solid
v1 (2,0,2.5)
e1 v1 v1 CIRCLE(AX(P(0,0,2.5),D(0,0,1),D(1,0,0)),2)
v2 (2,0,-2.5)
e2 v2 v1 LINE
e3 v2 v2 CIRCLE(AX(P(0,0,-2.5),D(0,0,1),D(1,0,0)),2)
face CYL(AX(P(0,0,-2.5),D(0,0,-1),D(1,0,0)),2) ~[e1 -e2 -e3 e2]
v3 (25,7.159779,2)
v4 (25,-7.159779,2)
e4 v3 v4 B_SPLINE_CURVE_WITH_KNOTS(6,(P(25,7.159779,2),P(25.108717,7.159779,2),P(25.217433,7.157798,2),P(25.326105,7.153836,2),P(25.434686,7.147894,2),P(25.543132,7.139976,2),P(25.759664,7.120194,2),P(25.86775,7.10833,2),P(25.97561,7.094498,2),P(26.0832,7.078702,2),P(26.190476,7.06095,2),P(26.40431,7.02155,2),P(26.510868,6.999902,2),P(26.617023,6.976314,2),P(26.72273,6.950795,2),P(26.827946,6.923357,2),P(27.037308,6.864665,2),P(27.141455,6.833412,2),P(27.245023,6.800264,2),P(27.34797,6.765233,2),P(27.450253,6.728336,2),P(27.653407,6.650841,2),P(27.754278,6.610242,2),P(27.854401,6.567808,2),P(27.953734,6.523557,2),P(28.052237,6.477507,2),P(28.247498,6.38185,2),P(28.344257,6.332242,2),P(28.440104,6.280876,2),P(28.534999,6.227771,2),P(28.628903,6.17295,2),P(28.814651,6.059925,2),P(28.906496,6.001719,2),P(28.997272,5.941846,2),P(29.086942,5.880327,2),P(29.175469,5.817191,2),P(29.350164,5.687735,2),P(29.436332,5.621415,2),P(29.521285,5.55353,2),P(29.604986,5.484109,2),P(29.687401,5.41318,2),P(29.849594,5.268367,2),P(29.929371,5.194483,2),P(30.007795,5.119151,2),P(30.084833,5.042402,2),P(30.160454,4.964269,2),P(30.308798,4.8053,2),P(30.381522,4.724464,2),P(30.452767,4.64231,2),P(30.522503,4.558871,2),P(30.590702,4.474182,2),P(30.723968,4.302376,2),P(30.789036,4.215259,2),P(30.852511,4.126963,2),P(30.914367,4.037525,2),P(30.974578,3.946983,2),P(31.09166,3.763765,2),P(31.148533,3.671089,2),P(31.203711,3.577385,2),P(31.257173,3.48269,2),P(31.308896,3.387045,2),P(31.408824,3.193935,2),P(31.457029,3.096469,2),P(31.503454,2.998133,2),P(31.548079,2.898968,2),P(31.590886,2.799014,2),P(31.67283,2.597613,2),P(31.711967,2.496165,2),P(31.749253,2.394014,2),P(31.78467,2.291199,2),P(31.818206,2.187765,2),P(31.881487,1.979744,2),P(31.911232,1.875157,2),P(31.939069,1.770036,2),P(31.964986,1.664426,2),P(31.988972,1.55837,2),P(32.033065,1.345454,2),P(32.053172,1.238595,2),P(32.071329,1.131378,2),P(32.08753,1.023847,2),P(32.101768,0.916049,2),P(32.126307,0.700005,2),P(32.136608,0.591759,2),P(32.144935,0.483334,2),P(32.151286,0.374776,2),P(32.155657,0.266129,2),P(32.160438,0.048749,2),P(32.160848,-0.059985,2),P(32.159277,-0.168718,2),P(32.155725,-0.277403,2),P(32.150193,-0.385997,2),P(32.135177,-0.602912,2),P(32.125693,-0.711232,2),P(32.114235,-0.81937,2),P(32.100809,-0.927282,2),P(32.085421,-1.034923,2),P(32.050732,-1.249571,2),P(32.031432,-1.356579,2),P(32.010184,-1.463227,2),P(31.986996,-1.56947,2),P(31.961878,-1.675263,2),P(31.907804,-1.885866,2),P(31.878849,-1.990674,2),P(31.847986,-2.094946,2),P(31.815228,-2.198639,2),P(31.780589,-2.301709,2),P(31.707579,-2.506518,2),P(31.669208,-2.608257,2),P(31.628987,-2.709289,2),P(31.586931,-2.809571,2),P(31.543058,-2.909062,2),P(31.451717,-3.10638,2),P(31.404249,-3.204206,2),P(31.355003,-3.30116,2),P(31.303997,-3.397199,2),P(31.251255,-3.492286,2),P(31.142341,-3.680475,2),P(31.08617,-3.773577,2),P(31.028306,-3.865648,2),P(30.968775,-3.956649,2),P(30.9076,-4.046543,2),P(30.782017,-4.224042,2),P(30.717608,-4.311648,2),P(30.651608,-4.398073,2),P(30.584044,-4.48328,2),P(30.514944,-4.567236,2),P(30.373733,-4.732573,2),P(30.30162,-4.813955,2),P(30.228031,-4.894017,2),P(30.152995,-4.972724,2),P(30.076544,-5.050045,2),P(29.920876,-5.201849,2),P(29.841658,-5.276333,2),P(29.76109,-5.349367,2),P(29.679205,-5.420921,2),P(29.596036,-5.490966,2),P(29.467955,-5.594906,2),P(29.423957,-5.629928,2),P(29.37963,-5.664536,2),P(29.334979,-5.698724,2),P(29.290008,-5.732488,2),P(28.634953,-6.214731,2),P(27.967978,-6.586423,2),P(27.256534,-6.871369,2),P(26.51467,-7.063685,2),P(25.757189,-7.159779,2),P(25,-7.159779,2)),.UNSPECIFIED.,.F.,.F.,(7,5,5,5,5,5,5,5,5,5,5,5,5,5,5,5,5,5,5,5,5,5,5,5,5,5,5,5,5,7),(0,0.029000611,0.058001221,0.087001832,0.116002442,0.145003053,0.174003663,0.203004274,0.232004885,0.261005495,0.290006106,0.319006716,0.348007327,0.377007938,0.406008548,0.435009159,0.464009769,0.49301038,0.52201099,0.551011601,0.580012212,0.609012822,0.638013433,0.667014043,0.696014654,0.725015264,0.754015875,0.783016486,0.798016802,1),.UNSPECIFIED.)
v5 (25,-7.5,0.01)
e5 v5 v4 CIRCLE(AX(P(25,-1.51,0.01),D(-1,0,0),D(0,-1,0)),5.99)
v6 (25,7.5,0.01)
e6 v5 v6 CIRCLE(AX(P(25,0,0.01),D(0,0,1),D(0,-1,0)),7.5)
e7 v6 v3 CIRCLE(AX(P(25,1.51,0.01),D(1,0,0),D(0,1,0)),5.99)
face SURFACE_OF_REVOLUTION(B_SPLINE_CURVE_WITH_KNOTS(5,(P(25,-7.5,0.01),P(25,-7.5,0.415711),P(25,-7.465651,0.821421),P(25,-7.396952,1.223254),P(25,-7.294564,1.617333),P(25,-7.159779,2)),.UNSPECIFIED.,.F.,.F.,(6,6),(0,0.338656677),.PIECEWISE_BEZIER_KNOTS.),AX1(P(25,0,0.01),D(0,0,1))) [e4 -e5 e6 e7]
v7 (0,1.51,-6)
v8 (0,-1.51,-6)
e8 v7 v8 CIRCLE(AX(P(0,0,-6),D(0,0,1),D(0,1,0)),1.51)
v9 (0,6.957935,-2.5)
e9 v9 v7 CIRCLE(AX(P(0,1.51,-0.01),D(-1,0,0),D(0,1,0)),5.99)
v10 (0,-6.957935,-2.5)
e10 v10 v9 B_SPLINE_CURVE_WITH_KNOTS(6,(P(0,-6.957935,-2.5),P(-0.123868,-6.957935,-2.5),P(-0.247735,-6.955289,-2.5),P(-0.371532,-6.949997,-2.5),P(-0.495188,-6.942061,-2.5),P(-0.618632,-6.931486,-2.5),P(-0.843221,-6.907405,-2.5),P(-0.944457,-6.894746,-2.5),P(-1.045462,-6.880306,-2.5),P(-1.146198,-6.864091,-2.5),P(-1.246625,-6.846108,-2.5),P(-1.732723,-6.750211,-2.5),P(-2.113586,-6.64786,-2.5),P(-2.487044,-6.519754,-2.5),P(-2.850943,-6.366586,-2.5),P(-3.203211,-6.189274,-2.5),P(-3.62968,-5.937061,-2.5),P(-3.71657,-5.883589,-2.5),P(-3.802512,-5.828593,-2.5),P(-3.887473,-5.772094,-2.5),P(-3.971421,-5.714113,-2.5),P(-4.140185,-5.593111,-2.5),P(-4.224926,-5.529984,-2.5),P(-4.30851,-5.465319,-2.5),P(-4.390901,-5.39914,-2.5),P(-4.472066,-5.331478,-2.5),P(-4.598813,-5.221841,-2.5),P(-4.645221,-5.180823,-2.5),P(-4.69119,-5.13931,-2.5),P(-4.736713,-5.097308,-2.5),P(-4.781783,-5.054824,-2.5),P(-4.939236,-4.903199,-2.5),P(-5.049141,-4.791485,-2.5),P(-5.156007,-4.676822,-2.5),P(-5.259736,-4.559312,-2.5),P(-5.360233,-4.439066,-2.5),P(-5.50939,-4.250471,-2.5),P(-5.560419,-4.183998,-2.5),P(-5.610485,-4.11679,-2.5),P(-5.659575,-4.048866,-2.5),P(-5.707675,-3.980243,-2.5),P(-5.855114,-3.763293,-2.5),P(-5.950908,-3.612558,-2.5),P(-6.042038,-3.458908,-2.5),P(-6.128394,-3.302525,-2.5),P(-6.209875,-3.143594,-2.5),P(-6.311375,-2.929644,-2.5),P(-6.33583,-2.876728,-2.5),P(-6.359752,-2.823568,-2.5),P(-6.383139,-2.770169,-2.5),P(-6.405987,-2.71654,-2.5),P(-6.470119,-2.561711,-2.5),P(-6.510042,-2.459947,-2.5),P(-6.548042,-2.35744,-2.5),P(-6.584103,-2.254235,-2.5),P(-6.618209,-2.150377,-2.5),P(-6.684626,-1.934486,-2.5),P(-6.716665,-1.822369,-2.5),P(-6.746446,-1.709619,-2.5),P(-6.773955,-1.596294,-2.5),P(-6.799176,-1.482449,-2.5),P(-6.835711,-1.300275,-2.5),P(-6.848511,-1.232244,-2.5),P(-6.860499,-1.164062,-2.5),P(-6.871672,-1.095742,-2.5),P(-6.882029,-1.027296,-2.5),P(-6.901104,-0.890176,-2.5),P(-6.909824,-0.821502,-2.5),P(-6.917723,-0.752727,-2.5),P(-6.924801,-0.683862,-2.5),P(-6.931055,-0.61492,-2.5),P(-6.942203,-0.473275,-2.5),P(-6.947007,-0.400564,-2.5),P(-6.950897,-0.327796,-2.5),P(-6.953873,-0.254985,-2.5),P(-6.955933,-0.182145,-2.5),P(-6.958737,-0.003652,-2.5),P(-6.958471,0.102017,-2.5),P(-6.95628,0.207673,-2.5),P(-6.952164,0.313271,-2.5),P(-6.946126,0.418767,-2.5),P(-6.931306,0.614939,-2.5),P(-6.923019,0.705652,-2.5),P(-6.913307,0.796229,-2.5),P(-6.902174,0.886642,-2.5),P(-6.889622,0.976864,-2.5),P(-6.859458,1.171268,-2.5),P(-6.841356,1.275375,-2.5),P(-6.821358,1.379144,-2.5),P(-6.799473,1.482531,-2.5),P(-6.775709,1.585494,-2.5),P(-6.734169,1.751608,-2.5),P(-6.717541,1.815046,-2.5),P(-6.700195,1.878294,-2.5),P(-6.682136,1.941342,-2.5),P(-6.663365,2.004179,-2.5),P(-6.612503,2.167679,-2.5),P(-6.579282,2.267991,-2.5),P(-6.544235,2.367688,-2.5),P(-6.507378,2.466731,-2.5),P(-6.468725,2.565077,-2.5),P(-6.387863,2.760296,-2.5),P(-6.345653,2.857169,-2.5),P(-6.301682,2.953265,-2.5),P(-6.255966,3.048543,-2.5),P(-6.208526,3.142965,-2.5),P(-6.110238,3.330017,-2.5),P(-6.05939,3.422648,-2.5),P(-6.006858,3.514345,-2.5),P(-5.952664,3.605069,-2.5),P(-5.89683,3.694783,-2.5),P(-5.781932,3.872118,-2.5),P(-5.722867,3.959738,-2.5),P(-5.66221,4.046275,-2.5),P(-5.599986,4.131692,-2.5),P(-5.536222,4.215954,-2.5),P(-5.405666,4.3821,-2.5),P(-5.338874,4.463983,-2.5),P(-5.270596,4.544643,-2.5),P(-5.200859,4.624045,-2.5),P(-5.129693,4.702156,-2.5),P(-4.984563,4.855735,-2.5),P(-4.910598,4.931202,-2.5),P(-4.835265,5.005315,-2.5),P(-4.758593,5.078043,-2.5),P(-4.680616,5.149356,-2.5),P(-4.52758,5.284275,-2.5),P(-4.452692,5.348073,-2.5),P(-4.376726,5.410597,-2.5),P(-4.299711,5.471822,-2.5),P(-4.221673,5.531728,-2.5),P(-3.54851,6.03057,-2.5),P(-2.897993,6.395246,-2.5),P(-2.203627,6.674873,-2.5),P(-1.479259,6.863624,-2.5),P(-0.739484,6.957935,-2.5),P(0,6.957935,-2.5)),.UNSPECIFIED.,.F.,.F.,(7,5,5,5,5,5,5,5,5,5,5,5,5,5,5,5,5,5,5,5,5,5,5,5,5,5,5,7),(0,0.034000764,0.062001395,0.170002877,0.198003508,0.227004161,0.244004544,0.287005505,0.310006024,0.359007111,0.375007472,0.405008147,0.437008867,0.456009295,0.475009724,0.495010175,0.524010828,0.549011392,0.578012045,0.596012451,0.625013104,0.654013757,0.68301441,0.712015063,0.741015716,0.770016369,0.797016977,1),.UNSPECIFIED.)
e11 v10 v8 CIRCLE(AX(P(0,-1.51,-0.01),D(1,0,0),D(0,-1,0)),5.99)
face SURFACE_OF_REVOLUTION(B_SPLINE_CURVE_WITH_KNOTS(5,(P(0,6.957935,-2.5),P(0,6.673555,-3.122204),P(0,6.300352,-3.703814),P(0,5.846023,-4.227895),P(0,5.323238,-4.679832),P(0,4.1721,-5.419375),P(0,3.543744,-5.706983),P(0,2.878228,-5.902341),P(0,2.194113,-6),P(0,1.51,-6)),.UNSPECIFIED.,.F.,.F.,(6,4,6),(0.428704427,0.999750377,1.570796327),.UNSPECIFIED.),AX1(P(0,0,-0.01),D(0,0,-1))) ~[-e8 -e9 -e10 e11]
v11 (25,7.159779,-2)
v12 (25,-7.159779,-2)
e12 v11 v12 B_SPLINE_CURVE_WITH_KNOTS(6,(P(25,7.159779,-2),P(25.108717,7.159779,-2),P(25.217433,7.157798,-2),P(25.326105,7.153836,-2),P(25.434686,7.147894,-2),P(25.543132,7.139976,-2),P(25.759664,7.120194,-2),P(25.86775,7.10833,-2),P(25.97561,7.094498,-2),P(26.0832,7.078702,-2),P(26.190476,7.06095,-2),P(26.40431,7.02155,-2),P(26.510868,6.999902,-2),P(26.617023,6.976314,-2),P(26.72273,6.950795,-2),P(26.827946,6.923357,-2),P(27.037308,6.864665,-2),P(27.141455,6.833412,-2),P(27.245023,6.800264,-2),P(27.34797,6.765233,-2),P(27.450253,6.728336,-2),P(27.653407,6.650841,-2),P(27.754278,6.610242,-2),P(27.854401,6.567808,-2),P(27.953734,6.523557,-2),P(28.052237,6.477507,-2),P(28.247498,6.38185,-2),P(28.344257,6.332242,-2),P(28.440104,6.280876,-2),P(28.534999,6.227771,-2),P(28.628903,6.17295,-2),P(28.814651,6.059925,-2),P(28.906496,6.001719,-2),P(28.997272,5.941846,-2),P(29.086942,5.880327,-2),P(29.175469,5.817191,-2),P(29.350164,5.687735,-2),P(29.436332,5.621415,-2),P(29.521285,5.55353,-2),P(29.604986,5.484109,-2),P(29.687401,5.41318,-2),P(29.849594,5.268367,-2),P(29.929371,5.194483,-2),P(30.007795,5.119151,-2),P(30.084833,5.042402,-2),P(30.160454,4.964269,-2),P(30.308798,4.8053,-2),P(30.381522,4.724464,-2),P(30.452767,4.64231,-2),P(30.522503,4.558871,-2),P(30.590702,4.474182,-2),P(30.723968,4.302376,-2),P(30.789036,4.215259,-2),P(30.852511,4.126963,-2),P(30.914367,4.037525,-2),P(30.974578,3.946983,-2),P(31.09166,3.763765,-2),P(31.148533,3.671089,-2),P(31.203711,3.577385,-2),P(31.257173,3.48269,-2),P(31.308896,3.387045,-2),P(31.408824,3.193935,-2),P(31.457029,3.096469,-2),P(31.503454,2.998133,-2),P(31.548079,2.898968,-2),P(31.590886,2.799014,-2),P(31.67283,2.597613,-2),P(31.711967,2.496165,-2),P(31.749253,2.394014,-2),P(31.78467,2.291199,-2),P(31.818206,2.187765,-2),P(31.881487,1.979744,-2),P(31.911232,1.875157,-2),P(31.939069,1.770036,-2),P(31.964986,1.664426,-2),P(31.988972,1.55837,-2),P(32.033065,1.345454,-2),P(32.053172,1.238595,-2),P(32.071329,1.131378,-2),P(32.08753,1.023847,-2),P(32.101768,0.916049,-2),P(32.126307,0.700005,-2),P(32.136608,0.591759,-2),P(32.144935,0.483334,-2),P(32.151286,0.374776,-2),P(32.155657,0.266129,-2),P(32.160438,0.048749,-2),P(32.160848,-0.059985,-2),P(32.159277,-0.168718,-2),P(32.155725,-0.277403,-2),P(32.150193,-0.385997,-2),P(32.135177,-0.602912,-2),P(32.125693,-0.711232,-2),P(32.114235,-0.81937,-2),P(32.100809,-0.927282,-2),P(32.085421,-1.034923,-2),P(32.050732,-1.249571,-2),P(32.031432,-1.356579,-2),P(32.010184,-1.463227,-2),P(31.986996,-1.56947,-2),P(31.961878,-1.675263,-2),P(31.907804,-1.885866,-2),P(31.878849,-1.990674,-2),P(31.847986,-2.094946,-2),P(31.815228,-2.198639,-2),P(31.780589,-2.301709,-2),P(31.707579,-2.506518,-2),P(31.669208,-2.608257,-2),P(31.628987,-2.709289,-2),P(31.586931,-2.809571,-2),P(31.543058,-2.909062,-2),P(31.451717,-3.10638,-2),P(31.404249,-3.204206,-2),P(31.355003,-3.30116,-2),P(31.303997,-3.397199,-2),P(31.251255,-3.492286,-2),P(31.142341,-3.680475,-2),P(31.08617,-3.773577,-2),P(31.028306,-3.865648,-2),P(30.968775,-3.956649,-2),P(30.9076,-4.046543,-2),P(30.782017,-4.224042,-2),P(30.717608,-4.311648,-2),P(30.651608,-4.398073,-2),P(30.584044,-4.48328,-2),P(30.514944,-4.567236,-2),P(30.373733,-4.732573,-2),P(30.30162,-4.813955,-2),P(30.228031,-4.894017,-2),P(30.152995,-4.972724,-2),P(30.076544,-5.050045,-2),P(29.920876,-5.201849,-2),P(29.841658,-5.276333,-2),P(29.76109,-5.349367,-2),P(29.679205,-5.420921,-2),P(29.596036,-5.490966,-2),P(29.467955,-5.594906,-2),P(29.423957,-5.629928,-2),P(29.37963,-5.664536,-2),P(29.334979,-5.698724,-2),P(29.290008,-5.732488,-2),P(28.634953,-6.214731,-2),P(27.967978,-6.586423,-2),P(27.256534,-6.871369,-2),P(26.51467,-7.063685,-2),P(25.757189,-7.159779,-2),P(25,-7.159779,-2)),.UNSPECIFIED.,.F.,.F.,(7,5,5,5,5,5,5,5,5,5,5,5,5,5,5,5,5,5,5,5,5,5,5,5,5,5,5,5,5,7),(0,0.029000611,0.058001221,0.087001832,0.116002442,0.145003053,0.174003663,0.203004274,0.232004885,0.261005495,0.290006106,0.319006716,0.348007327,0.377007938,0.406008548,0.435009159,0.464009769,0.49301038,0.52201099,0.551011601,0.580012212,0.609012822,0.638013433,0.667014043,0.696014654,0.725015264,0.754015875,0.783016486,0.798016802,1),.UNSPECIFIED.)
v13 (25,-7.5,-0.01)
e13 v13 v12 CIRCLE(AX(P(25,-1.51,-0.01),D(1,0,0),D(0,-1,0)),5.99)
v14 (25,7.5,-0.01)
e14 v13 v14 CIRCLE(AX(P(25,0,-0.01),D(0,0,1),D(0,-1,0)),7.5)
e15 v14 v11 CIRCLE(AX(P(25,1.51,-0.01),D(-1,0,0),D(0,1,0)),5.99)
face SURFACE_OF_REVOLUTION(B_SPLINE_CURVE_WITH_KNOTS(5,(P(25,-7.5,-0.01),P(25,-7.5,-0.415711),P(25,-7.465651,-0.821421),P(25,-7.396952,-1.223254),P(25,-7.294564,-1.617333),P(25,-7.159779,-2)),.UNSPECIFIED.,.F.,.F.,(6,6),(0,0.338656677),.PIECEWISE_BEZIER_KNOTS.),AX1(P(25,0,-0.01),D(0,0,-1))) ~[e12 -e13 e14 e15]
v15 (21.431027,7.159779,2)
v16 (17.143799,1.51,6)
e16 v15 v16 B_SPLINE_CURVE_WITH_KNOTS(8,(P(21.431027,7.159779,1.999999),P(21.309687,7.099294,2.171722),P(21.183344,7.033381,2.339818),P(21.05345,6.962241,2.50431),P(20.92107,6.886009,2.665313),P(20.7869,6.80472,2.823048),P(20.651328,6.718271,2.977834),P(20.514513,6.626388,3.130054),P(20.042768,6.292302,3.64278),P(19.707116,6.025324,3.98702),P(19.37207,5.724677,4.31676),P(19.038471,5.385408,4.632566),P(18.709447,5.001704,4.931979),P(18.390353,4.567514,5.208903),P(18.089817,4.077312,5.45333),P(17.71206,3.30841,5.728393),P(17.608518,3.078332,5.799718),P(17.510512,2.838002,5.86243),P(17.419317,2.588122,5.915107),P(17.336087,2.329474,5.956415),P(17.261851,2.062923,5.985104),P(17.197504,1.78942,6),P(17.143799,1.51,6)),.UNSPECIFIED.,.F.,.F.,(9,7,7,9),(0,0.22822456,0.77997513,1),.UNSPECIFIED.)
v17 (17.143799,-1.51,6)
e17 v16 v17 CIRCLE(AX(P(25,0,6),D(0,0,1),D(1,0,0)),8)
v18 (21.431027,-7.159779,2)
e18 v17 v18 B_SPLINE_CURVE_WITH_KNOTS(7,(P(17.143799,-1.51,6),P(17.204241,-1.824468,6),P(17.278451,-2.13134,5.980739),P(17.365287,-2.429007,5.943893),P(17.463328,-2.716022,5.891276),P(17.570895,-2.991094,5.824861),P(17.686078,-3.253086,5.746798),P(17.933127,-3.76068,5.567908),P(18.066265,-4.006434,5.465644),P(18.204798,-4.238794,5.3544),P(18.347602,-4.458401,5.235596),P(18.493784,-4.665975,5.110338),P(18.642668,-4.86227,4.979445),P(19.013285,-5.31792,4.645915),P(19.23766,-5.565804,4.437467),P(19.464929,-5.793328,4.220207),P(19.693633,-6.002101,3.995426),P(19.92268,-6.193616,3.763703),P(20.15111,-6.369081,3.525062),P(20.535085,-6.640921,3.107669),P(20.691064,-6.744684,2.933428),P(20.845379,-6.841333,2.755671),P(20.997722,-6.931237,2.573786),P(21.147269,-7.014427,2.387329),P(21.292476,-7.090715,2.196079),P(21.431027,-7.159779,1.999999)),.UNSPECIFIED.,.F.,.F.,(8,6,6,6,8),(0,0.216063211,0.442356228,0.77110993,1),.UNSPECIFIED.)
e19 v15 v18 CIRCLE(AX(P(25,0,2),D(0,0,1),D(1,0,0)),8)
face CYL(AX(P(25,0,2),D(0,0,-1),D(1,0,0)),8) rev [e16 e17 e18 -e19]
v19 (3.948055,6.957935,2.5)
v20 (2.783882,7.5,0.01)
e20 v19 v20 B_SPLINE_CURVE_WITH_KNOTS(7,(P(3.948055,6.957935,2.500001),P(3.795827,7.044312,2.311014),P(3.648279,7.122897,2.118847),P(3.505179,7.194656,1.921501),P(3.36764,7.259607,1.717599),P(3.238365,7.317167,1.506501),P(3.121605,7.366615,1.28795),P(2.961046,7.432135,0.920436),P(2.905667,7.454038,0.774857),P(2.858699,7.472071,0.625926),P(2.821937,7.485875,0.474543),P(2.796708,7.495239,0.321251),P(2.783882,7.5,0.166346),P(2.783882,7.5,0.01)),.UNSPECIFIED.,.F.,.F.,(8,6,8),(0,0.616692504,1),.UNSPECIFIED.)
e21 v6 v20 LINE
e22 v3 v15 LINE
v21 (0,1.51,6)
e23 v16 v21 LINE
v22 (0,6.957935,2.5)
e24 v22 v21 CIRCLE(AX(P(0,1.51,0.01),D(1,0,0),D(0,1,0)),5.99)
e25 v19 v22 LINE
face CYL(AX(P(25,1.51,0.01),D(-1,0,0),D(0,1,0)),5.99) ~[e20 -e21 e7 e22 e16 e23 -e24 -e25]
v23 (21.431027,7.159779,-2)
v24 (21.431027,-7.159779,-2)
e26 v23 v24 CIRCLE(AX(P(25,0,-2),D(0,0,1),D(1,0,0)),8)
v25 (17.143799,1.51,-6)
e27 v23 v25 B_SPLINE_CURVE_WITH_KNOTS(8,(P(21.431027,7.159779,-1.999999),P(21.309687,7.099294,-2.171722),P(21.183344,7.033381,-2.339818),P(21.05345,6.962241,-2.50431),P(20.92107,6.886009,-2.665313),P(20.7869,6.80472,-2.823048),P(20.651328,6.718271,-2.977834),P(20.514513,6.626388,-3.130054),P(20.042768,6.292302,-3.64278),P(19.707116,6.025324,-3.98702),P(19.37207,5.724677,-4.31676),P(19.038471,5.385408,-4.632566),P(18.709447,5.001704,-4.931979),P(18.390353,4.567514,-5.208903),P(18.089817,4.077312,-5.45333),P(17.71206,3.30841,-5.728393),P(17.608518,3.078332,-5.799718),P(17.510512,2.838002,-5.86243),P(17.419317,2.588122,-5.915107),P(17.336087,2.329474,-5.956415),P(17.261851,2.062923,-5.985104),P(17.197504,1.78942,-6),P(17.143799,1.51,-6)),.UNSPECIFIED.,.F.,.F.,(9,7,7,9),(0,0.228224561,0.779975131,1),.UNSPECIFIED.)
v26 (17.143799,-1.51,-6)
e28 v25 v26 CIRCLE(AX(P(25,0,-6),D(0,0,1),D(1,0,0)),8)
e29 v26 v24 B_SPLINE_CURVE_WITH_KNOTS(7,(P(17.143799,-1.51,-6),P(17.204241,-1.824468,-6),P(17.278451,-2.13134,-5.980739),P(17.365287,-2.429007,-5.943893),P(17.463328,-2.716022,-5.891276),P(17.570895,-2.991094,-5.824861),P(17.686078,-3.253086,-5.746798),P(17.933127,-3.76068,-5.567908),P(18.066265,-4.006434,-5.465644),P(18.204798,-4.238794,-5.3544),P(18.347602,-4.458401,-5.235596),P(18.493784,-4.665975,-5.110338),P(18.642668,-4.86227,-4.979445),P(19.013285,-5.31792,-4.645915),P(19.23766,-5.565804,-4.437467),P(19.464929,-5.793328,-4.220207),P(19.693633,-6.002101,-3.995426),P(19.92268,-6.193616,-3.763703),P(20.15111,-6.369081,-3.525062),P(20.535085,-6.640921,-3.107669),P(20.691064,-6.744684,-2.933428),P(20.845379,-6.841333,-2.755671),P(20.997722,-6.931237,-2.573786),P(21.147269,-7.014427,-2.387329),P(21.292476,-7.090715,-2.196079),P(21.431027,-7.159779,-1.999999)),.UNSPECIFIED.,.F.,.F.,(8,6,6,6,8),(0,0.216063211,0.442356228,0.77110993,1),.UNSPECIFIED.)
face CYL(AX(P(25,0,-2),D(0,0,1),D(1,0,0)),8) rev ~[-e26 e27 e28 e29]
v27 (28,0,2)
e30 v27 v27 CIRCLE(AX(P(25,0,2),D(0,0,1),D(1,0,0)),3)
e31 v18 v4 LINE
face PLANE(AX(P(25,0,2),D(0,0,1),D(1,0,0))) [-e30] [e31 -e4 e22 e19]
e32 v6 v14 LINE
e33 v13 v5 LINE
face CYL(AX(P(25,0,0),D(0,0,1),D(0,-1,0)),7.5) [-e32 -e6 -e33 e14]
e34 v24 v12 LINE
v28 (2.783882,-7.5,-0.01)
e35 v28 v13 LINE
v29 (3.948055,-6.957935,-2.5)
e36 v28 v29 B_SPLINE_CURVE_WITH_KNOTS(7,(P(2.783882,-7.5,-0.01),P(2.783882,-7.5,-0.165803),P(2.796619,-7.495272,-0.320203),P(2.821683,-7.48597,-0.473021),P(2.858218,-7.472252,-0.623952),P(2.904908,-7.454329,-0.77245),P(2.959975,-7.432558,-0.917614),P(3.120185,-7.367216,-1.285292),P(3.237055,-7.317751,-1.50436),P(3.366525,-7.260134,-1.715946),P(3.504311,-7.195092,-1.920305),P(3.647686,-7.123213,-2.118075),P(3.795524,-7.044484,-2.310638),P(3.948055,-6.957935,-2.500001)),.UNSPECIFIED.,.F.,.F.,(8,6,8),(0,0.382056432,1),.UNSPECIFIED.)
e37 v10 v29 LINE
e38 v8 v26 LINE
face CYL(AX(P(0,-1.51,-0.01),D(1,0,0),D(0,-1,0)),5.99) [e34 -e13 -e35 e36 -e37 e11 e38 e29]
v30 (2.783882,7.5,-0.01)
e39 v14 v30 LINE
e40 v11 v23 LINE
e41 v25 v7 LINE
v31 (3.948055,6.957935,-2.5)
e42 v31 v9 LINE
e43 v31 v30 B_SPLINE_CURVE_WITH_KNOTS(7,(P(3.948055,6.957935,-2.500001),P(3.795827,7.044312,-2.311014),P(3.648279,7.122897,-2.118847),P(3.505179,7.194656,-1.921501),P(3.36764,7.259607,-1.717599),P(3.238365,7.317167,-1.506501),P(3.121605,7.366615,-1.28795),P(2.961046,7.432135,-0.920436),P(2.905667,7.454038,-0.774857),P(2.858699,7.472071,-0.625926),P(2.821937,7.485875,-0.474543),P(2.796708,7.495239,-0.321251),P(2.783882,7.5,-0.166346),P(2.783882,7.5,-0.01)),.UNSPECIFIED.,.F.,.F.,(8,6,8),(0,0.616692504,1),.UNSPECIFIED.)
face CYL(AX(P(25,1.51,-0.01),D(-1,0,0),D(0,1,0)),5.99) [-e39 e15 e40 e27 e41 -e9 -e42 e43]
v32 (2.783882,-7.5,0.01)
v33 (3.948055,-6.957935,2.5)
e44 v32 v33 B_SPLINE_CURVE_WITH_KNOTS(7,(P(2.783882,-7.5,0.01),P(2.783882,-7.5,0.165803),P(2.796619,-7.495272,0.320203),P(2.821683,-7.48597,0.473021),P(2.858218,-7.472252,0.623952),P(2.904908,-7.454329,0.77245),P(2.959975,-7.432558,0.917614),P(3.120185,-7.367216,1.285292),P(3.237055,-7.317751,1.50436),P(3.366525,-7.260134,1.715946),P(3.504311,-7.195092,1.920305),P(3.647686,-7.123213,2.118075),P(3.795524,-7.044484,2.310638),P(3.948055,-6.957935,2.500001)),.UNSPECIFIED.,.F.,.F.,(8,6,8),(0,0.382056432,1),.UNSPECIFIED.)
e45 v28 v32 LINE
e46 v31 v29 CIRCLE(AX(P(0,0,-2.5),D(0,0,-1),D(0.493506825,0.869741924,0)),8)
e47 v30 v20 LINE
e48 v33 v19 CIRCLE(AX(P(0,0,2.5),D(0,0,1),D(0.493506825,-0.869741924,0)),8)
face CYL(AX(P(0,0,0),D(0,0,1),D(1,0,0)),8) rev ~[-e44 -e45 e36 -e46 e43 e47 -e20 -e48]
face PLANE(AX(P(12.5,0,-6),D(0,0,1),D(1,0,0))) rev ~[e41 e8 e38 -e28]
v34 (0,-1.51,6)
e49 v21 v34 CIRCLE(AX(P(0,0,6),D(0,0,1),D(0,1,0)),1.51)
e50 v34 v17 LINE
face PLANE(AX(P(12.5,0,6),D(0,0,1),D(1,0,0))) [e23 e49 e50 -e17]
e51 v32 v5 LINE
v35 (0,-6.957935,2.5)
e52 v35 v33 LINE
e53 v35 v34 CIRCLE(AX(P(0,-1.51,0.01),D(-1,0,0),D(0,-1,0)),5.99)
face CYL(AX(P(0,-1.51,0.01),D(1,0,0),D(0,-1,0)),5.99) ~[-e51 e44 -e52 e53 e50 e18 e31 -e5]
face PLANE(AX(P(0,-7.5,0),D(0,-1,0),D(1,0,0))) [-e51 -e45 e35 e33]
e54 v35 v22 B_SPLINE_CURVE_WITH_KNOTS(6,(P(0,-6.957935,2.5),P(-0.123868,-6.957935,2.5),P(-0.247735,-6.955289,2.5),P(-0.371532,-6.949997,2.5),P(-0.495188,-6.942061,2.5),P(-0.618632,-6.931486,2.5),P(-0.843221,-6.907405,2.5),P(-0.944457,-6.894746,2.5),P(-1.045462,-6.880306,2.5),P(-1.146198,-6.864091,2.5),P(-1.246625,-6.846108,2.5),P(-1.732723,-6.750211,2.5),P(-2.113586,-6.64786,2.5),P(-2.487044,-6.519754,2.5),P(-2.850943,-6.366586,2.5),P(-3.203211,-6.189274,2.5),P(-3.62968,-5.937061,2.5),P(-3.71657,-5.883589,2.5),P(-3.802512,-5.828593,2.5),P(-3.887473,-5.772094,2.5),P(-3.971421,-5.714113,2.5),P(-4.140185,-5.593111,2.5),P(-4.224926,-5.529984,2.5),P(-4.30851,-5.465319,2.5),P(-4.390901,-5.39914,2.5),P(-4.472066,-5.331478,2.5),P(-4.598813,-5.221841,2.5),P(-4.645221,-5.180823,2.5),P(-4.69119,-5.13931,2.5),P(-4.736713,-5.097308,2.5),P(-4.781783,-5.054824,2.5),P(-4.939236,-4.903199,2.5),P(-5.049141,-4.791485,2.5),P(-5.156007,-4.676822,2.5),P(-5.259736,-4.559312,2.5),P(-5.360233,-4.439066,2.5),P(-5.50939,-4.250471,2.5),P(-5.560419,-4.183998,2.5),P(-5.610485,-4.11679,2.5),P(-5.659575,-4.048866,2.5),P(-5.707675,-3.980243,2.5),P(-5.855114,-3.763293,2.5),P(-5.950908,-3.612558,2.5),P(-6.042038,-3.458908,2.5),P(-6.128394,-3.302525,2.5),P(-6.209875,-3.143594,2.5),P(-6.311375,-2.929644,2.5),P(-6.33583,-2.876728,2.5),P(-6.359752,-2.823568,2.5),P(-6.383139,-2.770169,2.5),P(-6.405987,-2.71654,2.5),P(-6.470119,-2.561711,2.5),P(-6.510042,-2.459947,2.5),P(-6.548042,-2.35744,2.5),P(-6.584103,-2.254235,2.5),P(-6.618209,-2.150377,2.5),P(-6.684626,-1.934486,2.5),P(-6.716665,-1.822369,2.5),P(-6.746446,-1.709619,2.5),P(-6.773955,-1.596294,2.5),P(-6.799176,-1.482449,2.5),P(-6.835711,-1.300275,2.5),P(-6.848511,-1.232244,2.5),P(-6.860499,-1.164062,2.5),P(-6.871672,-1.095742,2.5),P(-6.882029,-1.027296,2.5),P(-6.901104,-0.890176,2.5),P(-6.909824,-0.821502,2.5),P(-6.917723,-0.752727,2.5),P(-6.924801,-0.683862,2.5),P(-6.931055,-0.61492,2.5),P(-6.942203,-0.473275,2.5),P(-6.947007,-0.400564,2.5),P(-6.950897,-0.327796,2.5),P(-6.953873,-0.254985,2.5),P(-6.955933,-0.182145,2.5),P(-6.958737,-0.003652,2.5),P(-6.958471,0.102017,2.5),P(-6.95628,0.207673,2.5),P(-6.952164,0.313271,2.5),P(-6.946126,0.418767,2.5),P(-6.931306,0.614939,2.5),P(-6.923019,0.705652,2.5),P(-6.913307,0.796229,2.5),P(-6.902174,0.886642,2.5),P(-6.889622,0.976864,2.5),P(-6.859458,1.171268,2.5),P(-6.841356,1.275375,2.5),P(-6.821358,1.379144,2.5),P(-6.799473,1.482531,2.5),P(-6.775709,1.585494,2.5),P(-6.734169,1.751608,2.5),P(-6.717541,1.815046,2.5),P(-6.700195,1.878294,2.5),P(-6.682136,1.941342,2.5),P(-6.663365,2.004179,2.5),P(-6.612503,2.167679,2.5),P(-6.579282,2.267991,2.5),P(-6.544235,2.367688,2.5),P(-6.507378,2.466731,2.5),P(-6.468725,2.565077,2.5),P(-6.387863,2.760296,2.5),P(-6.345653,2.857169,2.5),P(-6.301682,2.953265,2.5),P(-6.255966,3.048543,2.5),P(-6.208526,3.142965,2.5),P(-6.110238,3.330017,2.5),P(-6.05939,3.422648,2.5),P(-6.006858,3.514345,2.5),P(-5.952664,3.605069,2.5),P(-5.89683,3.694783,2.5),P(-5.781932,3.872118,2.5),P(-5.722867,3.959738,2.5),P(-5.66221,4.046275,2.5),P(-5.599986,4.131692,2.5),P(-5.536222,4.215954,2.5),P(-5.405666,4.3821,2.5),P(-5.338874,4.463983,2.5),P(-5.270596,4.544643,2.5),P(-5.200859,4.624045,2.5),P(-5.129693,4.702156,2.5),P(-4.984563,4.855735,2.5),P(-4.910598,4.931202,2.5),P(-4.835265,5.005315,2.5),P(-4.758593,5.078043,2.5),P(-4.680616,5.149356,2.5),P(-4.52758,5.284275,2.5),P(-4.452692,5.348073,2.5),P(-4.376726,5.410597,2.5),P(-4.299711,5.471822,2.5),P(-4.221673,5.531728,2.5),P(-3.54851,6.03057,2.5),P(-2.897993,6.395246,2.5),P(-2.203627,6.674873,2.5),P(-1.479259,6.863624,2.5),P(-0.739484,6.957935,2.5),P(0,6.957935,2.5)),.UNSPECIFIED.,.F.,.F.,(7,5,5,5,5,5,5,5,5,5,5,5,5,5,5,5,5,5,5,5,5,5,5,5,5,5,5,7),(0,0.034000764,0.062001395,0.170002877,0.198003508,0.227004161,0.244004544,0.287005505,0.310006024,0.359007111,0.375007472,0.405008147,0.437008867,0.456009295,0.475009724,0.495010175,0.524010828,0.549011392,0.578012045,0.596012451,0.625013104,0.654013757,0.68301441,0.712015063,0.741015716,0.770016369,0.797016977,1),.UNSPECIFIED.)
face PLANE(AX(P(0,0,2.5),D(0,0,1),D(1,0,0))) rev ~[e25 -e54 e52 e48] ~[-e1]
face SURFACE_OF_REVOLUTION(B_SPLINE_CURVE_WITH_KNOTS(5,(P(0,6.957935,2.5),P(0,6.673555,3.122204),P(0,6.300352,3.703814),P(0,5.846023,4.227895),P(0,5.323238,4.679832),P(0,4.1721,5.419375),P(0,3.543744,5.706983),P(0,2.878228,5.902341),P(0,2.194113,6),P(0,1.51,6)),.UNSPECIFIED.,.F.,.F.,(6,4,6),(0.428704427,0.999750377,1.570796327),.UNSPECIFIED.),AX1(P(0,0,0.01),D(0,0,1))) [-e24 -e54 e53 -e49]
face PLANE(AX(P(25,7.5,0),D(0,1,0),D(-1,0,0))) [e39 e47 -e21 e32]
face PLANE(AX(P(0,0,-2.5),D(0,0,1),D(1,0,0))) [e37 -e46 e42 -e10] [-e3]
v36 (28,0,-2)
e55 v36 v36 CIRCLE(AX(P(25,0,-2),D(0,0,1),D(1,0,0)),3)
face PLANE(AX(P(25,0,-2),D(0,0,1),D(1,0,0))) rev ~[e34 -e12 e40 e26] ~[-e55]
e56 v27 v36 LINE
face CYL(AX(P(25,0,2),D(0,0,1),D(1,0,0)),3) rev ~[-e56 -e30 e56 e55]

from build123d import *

# Parameters (mm, degrees)
PAD_DEPTH       = 6
FILLET_R        = 5.99
SKETCH001_R     = 8
POCKET_DEPTH    = 2.5
SKETCH002_R     = 8
POCKET001_DEPTH = 4
SKETCH003_R     = 8
POCKET002_DEPTH = 4
SKETCH004_R     = 3
POCKET003_DEPTH = 4
SKETCH005_R     = 2
PAD001_DEPTH    = 5


with BuildPart() as part:
    # Sketch → Pad (new body, symmetric)
    with BuildSketch(Plane.XY):
        with BuildLine():
            ThreePointArc((0, 7.5), (-7.5, 0), (0, -7.5))
            Line((0, -7.5), (25, -7.5))
            ThreePointArc((25, -7.5), (32.5, 0), (25, 7.5))
            Line((25, 7.5), (0, 7.5))
        make_face()
    extrude(amount=PAD_DEPTH, both=True)

    # Fillet
    fillet_edges = [part.edges().sort_by_distance(p)[0] for p in [
        (-7.5, 0, 6),
        (12.5, -7.5, 6),
        (12.5, 7.5, 6),
        (32.5, 0, 6),
        (12.5, -7.5, -6),
        (-7.5, 0, -6),
        (32.5, 0, -6),
        (12.5, 7.5, -6),
    ]]
    fillet(fillet_edges, radius=FILLET_R)

    # Sketch001 → Pocket (cut, symmetric)
    with BuildSketch(Plane.XY):
        Circle(SKETCH001_R)
    extrude(amount=POCKET_DEPTH, both=True, mode=Mode.SUBTRACT)

    # Sketch002 → Pocket001 (cut)
    with BuildSketch(Plane.XY.offset(2)):
        with Locations((25, 0)):
            Circle(SKETCH002_R)
    extrude(amount=POCKET001_DEPTH, mode=Mode.SUBTRACT)

    # Sketch003 → Pocket002 (cut)
    with BuildSketch(Plane.XY.offset(-2)):
        with Locations((25, 0)):
            Circle(SKETCH003_R)
    extrude(amount=-POCKET002_DEPTH, mode=Mode.SUBTRACT)

    # Sketch004 (on Face17 of Pocket002) → Pocket003 (cut)
    with BuildSketch(Plane.XY.offset(2)):
        with Locations((25, 0)):
            Circle(SKETCH004_R)
    extrude(amount=-POCKET003_DEPTH, mode=Mode.SUBTRACT)

    # Sketch005 (on Face6 of Pocket003) → Pad001 (join)
    with BuildSketch(Plane.XY.offset(-2.5)):
        Circle(SKETCH005_R)
    extrude(amount=PAD001_DEPTH)


solid = part.part
